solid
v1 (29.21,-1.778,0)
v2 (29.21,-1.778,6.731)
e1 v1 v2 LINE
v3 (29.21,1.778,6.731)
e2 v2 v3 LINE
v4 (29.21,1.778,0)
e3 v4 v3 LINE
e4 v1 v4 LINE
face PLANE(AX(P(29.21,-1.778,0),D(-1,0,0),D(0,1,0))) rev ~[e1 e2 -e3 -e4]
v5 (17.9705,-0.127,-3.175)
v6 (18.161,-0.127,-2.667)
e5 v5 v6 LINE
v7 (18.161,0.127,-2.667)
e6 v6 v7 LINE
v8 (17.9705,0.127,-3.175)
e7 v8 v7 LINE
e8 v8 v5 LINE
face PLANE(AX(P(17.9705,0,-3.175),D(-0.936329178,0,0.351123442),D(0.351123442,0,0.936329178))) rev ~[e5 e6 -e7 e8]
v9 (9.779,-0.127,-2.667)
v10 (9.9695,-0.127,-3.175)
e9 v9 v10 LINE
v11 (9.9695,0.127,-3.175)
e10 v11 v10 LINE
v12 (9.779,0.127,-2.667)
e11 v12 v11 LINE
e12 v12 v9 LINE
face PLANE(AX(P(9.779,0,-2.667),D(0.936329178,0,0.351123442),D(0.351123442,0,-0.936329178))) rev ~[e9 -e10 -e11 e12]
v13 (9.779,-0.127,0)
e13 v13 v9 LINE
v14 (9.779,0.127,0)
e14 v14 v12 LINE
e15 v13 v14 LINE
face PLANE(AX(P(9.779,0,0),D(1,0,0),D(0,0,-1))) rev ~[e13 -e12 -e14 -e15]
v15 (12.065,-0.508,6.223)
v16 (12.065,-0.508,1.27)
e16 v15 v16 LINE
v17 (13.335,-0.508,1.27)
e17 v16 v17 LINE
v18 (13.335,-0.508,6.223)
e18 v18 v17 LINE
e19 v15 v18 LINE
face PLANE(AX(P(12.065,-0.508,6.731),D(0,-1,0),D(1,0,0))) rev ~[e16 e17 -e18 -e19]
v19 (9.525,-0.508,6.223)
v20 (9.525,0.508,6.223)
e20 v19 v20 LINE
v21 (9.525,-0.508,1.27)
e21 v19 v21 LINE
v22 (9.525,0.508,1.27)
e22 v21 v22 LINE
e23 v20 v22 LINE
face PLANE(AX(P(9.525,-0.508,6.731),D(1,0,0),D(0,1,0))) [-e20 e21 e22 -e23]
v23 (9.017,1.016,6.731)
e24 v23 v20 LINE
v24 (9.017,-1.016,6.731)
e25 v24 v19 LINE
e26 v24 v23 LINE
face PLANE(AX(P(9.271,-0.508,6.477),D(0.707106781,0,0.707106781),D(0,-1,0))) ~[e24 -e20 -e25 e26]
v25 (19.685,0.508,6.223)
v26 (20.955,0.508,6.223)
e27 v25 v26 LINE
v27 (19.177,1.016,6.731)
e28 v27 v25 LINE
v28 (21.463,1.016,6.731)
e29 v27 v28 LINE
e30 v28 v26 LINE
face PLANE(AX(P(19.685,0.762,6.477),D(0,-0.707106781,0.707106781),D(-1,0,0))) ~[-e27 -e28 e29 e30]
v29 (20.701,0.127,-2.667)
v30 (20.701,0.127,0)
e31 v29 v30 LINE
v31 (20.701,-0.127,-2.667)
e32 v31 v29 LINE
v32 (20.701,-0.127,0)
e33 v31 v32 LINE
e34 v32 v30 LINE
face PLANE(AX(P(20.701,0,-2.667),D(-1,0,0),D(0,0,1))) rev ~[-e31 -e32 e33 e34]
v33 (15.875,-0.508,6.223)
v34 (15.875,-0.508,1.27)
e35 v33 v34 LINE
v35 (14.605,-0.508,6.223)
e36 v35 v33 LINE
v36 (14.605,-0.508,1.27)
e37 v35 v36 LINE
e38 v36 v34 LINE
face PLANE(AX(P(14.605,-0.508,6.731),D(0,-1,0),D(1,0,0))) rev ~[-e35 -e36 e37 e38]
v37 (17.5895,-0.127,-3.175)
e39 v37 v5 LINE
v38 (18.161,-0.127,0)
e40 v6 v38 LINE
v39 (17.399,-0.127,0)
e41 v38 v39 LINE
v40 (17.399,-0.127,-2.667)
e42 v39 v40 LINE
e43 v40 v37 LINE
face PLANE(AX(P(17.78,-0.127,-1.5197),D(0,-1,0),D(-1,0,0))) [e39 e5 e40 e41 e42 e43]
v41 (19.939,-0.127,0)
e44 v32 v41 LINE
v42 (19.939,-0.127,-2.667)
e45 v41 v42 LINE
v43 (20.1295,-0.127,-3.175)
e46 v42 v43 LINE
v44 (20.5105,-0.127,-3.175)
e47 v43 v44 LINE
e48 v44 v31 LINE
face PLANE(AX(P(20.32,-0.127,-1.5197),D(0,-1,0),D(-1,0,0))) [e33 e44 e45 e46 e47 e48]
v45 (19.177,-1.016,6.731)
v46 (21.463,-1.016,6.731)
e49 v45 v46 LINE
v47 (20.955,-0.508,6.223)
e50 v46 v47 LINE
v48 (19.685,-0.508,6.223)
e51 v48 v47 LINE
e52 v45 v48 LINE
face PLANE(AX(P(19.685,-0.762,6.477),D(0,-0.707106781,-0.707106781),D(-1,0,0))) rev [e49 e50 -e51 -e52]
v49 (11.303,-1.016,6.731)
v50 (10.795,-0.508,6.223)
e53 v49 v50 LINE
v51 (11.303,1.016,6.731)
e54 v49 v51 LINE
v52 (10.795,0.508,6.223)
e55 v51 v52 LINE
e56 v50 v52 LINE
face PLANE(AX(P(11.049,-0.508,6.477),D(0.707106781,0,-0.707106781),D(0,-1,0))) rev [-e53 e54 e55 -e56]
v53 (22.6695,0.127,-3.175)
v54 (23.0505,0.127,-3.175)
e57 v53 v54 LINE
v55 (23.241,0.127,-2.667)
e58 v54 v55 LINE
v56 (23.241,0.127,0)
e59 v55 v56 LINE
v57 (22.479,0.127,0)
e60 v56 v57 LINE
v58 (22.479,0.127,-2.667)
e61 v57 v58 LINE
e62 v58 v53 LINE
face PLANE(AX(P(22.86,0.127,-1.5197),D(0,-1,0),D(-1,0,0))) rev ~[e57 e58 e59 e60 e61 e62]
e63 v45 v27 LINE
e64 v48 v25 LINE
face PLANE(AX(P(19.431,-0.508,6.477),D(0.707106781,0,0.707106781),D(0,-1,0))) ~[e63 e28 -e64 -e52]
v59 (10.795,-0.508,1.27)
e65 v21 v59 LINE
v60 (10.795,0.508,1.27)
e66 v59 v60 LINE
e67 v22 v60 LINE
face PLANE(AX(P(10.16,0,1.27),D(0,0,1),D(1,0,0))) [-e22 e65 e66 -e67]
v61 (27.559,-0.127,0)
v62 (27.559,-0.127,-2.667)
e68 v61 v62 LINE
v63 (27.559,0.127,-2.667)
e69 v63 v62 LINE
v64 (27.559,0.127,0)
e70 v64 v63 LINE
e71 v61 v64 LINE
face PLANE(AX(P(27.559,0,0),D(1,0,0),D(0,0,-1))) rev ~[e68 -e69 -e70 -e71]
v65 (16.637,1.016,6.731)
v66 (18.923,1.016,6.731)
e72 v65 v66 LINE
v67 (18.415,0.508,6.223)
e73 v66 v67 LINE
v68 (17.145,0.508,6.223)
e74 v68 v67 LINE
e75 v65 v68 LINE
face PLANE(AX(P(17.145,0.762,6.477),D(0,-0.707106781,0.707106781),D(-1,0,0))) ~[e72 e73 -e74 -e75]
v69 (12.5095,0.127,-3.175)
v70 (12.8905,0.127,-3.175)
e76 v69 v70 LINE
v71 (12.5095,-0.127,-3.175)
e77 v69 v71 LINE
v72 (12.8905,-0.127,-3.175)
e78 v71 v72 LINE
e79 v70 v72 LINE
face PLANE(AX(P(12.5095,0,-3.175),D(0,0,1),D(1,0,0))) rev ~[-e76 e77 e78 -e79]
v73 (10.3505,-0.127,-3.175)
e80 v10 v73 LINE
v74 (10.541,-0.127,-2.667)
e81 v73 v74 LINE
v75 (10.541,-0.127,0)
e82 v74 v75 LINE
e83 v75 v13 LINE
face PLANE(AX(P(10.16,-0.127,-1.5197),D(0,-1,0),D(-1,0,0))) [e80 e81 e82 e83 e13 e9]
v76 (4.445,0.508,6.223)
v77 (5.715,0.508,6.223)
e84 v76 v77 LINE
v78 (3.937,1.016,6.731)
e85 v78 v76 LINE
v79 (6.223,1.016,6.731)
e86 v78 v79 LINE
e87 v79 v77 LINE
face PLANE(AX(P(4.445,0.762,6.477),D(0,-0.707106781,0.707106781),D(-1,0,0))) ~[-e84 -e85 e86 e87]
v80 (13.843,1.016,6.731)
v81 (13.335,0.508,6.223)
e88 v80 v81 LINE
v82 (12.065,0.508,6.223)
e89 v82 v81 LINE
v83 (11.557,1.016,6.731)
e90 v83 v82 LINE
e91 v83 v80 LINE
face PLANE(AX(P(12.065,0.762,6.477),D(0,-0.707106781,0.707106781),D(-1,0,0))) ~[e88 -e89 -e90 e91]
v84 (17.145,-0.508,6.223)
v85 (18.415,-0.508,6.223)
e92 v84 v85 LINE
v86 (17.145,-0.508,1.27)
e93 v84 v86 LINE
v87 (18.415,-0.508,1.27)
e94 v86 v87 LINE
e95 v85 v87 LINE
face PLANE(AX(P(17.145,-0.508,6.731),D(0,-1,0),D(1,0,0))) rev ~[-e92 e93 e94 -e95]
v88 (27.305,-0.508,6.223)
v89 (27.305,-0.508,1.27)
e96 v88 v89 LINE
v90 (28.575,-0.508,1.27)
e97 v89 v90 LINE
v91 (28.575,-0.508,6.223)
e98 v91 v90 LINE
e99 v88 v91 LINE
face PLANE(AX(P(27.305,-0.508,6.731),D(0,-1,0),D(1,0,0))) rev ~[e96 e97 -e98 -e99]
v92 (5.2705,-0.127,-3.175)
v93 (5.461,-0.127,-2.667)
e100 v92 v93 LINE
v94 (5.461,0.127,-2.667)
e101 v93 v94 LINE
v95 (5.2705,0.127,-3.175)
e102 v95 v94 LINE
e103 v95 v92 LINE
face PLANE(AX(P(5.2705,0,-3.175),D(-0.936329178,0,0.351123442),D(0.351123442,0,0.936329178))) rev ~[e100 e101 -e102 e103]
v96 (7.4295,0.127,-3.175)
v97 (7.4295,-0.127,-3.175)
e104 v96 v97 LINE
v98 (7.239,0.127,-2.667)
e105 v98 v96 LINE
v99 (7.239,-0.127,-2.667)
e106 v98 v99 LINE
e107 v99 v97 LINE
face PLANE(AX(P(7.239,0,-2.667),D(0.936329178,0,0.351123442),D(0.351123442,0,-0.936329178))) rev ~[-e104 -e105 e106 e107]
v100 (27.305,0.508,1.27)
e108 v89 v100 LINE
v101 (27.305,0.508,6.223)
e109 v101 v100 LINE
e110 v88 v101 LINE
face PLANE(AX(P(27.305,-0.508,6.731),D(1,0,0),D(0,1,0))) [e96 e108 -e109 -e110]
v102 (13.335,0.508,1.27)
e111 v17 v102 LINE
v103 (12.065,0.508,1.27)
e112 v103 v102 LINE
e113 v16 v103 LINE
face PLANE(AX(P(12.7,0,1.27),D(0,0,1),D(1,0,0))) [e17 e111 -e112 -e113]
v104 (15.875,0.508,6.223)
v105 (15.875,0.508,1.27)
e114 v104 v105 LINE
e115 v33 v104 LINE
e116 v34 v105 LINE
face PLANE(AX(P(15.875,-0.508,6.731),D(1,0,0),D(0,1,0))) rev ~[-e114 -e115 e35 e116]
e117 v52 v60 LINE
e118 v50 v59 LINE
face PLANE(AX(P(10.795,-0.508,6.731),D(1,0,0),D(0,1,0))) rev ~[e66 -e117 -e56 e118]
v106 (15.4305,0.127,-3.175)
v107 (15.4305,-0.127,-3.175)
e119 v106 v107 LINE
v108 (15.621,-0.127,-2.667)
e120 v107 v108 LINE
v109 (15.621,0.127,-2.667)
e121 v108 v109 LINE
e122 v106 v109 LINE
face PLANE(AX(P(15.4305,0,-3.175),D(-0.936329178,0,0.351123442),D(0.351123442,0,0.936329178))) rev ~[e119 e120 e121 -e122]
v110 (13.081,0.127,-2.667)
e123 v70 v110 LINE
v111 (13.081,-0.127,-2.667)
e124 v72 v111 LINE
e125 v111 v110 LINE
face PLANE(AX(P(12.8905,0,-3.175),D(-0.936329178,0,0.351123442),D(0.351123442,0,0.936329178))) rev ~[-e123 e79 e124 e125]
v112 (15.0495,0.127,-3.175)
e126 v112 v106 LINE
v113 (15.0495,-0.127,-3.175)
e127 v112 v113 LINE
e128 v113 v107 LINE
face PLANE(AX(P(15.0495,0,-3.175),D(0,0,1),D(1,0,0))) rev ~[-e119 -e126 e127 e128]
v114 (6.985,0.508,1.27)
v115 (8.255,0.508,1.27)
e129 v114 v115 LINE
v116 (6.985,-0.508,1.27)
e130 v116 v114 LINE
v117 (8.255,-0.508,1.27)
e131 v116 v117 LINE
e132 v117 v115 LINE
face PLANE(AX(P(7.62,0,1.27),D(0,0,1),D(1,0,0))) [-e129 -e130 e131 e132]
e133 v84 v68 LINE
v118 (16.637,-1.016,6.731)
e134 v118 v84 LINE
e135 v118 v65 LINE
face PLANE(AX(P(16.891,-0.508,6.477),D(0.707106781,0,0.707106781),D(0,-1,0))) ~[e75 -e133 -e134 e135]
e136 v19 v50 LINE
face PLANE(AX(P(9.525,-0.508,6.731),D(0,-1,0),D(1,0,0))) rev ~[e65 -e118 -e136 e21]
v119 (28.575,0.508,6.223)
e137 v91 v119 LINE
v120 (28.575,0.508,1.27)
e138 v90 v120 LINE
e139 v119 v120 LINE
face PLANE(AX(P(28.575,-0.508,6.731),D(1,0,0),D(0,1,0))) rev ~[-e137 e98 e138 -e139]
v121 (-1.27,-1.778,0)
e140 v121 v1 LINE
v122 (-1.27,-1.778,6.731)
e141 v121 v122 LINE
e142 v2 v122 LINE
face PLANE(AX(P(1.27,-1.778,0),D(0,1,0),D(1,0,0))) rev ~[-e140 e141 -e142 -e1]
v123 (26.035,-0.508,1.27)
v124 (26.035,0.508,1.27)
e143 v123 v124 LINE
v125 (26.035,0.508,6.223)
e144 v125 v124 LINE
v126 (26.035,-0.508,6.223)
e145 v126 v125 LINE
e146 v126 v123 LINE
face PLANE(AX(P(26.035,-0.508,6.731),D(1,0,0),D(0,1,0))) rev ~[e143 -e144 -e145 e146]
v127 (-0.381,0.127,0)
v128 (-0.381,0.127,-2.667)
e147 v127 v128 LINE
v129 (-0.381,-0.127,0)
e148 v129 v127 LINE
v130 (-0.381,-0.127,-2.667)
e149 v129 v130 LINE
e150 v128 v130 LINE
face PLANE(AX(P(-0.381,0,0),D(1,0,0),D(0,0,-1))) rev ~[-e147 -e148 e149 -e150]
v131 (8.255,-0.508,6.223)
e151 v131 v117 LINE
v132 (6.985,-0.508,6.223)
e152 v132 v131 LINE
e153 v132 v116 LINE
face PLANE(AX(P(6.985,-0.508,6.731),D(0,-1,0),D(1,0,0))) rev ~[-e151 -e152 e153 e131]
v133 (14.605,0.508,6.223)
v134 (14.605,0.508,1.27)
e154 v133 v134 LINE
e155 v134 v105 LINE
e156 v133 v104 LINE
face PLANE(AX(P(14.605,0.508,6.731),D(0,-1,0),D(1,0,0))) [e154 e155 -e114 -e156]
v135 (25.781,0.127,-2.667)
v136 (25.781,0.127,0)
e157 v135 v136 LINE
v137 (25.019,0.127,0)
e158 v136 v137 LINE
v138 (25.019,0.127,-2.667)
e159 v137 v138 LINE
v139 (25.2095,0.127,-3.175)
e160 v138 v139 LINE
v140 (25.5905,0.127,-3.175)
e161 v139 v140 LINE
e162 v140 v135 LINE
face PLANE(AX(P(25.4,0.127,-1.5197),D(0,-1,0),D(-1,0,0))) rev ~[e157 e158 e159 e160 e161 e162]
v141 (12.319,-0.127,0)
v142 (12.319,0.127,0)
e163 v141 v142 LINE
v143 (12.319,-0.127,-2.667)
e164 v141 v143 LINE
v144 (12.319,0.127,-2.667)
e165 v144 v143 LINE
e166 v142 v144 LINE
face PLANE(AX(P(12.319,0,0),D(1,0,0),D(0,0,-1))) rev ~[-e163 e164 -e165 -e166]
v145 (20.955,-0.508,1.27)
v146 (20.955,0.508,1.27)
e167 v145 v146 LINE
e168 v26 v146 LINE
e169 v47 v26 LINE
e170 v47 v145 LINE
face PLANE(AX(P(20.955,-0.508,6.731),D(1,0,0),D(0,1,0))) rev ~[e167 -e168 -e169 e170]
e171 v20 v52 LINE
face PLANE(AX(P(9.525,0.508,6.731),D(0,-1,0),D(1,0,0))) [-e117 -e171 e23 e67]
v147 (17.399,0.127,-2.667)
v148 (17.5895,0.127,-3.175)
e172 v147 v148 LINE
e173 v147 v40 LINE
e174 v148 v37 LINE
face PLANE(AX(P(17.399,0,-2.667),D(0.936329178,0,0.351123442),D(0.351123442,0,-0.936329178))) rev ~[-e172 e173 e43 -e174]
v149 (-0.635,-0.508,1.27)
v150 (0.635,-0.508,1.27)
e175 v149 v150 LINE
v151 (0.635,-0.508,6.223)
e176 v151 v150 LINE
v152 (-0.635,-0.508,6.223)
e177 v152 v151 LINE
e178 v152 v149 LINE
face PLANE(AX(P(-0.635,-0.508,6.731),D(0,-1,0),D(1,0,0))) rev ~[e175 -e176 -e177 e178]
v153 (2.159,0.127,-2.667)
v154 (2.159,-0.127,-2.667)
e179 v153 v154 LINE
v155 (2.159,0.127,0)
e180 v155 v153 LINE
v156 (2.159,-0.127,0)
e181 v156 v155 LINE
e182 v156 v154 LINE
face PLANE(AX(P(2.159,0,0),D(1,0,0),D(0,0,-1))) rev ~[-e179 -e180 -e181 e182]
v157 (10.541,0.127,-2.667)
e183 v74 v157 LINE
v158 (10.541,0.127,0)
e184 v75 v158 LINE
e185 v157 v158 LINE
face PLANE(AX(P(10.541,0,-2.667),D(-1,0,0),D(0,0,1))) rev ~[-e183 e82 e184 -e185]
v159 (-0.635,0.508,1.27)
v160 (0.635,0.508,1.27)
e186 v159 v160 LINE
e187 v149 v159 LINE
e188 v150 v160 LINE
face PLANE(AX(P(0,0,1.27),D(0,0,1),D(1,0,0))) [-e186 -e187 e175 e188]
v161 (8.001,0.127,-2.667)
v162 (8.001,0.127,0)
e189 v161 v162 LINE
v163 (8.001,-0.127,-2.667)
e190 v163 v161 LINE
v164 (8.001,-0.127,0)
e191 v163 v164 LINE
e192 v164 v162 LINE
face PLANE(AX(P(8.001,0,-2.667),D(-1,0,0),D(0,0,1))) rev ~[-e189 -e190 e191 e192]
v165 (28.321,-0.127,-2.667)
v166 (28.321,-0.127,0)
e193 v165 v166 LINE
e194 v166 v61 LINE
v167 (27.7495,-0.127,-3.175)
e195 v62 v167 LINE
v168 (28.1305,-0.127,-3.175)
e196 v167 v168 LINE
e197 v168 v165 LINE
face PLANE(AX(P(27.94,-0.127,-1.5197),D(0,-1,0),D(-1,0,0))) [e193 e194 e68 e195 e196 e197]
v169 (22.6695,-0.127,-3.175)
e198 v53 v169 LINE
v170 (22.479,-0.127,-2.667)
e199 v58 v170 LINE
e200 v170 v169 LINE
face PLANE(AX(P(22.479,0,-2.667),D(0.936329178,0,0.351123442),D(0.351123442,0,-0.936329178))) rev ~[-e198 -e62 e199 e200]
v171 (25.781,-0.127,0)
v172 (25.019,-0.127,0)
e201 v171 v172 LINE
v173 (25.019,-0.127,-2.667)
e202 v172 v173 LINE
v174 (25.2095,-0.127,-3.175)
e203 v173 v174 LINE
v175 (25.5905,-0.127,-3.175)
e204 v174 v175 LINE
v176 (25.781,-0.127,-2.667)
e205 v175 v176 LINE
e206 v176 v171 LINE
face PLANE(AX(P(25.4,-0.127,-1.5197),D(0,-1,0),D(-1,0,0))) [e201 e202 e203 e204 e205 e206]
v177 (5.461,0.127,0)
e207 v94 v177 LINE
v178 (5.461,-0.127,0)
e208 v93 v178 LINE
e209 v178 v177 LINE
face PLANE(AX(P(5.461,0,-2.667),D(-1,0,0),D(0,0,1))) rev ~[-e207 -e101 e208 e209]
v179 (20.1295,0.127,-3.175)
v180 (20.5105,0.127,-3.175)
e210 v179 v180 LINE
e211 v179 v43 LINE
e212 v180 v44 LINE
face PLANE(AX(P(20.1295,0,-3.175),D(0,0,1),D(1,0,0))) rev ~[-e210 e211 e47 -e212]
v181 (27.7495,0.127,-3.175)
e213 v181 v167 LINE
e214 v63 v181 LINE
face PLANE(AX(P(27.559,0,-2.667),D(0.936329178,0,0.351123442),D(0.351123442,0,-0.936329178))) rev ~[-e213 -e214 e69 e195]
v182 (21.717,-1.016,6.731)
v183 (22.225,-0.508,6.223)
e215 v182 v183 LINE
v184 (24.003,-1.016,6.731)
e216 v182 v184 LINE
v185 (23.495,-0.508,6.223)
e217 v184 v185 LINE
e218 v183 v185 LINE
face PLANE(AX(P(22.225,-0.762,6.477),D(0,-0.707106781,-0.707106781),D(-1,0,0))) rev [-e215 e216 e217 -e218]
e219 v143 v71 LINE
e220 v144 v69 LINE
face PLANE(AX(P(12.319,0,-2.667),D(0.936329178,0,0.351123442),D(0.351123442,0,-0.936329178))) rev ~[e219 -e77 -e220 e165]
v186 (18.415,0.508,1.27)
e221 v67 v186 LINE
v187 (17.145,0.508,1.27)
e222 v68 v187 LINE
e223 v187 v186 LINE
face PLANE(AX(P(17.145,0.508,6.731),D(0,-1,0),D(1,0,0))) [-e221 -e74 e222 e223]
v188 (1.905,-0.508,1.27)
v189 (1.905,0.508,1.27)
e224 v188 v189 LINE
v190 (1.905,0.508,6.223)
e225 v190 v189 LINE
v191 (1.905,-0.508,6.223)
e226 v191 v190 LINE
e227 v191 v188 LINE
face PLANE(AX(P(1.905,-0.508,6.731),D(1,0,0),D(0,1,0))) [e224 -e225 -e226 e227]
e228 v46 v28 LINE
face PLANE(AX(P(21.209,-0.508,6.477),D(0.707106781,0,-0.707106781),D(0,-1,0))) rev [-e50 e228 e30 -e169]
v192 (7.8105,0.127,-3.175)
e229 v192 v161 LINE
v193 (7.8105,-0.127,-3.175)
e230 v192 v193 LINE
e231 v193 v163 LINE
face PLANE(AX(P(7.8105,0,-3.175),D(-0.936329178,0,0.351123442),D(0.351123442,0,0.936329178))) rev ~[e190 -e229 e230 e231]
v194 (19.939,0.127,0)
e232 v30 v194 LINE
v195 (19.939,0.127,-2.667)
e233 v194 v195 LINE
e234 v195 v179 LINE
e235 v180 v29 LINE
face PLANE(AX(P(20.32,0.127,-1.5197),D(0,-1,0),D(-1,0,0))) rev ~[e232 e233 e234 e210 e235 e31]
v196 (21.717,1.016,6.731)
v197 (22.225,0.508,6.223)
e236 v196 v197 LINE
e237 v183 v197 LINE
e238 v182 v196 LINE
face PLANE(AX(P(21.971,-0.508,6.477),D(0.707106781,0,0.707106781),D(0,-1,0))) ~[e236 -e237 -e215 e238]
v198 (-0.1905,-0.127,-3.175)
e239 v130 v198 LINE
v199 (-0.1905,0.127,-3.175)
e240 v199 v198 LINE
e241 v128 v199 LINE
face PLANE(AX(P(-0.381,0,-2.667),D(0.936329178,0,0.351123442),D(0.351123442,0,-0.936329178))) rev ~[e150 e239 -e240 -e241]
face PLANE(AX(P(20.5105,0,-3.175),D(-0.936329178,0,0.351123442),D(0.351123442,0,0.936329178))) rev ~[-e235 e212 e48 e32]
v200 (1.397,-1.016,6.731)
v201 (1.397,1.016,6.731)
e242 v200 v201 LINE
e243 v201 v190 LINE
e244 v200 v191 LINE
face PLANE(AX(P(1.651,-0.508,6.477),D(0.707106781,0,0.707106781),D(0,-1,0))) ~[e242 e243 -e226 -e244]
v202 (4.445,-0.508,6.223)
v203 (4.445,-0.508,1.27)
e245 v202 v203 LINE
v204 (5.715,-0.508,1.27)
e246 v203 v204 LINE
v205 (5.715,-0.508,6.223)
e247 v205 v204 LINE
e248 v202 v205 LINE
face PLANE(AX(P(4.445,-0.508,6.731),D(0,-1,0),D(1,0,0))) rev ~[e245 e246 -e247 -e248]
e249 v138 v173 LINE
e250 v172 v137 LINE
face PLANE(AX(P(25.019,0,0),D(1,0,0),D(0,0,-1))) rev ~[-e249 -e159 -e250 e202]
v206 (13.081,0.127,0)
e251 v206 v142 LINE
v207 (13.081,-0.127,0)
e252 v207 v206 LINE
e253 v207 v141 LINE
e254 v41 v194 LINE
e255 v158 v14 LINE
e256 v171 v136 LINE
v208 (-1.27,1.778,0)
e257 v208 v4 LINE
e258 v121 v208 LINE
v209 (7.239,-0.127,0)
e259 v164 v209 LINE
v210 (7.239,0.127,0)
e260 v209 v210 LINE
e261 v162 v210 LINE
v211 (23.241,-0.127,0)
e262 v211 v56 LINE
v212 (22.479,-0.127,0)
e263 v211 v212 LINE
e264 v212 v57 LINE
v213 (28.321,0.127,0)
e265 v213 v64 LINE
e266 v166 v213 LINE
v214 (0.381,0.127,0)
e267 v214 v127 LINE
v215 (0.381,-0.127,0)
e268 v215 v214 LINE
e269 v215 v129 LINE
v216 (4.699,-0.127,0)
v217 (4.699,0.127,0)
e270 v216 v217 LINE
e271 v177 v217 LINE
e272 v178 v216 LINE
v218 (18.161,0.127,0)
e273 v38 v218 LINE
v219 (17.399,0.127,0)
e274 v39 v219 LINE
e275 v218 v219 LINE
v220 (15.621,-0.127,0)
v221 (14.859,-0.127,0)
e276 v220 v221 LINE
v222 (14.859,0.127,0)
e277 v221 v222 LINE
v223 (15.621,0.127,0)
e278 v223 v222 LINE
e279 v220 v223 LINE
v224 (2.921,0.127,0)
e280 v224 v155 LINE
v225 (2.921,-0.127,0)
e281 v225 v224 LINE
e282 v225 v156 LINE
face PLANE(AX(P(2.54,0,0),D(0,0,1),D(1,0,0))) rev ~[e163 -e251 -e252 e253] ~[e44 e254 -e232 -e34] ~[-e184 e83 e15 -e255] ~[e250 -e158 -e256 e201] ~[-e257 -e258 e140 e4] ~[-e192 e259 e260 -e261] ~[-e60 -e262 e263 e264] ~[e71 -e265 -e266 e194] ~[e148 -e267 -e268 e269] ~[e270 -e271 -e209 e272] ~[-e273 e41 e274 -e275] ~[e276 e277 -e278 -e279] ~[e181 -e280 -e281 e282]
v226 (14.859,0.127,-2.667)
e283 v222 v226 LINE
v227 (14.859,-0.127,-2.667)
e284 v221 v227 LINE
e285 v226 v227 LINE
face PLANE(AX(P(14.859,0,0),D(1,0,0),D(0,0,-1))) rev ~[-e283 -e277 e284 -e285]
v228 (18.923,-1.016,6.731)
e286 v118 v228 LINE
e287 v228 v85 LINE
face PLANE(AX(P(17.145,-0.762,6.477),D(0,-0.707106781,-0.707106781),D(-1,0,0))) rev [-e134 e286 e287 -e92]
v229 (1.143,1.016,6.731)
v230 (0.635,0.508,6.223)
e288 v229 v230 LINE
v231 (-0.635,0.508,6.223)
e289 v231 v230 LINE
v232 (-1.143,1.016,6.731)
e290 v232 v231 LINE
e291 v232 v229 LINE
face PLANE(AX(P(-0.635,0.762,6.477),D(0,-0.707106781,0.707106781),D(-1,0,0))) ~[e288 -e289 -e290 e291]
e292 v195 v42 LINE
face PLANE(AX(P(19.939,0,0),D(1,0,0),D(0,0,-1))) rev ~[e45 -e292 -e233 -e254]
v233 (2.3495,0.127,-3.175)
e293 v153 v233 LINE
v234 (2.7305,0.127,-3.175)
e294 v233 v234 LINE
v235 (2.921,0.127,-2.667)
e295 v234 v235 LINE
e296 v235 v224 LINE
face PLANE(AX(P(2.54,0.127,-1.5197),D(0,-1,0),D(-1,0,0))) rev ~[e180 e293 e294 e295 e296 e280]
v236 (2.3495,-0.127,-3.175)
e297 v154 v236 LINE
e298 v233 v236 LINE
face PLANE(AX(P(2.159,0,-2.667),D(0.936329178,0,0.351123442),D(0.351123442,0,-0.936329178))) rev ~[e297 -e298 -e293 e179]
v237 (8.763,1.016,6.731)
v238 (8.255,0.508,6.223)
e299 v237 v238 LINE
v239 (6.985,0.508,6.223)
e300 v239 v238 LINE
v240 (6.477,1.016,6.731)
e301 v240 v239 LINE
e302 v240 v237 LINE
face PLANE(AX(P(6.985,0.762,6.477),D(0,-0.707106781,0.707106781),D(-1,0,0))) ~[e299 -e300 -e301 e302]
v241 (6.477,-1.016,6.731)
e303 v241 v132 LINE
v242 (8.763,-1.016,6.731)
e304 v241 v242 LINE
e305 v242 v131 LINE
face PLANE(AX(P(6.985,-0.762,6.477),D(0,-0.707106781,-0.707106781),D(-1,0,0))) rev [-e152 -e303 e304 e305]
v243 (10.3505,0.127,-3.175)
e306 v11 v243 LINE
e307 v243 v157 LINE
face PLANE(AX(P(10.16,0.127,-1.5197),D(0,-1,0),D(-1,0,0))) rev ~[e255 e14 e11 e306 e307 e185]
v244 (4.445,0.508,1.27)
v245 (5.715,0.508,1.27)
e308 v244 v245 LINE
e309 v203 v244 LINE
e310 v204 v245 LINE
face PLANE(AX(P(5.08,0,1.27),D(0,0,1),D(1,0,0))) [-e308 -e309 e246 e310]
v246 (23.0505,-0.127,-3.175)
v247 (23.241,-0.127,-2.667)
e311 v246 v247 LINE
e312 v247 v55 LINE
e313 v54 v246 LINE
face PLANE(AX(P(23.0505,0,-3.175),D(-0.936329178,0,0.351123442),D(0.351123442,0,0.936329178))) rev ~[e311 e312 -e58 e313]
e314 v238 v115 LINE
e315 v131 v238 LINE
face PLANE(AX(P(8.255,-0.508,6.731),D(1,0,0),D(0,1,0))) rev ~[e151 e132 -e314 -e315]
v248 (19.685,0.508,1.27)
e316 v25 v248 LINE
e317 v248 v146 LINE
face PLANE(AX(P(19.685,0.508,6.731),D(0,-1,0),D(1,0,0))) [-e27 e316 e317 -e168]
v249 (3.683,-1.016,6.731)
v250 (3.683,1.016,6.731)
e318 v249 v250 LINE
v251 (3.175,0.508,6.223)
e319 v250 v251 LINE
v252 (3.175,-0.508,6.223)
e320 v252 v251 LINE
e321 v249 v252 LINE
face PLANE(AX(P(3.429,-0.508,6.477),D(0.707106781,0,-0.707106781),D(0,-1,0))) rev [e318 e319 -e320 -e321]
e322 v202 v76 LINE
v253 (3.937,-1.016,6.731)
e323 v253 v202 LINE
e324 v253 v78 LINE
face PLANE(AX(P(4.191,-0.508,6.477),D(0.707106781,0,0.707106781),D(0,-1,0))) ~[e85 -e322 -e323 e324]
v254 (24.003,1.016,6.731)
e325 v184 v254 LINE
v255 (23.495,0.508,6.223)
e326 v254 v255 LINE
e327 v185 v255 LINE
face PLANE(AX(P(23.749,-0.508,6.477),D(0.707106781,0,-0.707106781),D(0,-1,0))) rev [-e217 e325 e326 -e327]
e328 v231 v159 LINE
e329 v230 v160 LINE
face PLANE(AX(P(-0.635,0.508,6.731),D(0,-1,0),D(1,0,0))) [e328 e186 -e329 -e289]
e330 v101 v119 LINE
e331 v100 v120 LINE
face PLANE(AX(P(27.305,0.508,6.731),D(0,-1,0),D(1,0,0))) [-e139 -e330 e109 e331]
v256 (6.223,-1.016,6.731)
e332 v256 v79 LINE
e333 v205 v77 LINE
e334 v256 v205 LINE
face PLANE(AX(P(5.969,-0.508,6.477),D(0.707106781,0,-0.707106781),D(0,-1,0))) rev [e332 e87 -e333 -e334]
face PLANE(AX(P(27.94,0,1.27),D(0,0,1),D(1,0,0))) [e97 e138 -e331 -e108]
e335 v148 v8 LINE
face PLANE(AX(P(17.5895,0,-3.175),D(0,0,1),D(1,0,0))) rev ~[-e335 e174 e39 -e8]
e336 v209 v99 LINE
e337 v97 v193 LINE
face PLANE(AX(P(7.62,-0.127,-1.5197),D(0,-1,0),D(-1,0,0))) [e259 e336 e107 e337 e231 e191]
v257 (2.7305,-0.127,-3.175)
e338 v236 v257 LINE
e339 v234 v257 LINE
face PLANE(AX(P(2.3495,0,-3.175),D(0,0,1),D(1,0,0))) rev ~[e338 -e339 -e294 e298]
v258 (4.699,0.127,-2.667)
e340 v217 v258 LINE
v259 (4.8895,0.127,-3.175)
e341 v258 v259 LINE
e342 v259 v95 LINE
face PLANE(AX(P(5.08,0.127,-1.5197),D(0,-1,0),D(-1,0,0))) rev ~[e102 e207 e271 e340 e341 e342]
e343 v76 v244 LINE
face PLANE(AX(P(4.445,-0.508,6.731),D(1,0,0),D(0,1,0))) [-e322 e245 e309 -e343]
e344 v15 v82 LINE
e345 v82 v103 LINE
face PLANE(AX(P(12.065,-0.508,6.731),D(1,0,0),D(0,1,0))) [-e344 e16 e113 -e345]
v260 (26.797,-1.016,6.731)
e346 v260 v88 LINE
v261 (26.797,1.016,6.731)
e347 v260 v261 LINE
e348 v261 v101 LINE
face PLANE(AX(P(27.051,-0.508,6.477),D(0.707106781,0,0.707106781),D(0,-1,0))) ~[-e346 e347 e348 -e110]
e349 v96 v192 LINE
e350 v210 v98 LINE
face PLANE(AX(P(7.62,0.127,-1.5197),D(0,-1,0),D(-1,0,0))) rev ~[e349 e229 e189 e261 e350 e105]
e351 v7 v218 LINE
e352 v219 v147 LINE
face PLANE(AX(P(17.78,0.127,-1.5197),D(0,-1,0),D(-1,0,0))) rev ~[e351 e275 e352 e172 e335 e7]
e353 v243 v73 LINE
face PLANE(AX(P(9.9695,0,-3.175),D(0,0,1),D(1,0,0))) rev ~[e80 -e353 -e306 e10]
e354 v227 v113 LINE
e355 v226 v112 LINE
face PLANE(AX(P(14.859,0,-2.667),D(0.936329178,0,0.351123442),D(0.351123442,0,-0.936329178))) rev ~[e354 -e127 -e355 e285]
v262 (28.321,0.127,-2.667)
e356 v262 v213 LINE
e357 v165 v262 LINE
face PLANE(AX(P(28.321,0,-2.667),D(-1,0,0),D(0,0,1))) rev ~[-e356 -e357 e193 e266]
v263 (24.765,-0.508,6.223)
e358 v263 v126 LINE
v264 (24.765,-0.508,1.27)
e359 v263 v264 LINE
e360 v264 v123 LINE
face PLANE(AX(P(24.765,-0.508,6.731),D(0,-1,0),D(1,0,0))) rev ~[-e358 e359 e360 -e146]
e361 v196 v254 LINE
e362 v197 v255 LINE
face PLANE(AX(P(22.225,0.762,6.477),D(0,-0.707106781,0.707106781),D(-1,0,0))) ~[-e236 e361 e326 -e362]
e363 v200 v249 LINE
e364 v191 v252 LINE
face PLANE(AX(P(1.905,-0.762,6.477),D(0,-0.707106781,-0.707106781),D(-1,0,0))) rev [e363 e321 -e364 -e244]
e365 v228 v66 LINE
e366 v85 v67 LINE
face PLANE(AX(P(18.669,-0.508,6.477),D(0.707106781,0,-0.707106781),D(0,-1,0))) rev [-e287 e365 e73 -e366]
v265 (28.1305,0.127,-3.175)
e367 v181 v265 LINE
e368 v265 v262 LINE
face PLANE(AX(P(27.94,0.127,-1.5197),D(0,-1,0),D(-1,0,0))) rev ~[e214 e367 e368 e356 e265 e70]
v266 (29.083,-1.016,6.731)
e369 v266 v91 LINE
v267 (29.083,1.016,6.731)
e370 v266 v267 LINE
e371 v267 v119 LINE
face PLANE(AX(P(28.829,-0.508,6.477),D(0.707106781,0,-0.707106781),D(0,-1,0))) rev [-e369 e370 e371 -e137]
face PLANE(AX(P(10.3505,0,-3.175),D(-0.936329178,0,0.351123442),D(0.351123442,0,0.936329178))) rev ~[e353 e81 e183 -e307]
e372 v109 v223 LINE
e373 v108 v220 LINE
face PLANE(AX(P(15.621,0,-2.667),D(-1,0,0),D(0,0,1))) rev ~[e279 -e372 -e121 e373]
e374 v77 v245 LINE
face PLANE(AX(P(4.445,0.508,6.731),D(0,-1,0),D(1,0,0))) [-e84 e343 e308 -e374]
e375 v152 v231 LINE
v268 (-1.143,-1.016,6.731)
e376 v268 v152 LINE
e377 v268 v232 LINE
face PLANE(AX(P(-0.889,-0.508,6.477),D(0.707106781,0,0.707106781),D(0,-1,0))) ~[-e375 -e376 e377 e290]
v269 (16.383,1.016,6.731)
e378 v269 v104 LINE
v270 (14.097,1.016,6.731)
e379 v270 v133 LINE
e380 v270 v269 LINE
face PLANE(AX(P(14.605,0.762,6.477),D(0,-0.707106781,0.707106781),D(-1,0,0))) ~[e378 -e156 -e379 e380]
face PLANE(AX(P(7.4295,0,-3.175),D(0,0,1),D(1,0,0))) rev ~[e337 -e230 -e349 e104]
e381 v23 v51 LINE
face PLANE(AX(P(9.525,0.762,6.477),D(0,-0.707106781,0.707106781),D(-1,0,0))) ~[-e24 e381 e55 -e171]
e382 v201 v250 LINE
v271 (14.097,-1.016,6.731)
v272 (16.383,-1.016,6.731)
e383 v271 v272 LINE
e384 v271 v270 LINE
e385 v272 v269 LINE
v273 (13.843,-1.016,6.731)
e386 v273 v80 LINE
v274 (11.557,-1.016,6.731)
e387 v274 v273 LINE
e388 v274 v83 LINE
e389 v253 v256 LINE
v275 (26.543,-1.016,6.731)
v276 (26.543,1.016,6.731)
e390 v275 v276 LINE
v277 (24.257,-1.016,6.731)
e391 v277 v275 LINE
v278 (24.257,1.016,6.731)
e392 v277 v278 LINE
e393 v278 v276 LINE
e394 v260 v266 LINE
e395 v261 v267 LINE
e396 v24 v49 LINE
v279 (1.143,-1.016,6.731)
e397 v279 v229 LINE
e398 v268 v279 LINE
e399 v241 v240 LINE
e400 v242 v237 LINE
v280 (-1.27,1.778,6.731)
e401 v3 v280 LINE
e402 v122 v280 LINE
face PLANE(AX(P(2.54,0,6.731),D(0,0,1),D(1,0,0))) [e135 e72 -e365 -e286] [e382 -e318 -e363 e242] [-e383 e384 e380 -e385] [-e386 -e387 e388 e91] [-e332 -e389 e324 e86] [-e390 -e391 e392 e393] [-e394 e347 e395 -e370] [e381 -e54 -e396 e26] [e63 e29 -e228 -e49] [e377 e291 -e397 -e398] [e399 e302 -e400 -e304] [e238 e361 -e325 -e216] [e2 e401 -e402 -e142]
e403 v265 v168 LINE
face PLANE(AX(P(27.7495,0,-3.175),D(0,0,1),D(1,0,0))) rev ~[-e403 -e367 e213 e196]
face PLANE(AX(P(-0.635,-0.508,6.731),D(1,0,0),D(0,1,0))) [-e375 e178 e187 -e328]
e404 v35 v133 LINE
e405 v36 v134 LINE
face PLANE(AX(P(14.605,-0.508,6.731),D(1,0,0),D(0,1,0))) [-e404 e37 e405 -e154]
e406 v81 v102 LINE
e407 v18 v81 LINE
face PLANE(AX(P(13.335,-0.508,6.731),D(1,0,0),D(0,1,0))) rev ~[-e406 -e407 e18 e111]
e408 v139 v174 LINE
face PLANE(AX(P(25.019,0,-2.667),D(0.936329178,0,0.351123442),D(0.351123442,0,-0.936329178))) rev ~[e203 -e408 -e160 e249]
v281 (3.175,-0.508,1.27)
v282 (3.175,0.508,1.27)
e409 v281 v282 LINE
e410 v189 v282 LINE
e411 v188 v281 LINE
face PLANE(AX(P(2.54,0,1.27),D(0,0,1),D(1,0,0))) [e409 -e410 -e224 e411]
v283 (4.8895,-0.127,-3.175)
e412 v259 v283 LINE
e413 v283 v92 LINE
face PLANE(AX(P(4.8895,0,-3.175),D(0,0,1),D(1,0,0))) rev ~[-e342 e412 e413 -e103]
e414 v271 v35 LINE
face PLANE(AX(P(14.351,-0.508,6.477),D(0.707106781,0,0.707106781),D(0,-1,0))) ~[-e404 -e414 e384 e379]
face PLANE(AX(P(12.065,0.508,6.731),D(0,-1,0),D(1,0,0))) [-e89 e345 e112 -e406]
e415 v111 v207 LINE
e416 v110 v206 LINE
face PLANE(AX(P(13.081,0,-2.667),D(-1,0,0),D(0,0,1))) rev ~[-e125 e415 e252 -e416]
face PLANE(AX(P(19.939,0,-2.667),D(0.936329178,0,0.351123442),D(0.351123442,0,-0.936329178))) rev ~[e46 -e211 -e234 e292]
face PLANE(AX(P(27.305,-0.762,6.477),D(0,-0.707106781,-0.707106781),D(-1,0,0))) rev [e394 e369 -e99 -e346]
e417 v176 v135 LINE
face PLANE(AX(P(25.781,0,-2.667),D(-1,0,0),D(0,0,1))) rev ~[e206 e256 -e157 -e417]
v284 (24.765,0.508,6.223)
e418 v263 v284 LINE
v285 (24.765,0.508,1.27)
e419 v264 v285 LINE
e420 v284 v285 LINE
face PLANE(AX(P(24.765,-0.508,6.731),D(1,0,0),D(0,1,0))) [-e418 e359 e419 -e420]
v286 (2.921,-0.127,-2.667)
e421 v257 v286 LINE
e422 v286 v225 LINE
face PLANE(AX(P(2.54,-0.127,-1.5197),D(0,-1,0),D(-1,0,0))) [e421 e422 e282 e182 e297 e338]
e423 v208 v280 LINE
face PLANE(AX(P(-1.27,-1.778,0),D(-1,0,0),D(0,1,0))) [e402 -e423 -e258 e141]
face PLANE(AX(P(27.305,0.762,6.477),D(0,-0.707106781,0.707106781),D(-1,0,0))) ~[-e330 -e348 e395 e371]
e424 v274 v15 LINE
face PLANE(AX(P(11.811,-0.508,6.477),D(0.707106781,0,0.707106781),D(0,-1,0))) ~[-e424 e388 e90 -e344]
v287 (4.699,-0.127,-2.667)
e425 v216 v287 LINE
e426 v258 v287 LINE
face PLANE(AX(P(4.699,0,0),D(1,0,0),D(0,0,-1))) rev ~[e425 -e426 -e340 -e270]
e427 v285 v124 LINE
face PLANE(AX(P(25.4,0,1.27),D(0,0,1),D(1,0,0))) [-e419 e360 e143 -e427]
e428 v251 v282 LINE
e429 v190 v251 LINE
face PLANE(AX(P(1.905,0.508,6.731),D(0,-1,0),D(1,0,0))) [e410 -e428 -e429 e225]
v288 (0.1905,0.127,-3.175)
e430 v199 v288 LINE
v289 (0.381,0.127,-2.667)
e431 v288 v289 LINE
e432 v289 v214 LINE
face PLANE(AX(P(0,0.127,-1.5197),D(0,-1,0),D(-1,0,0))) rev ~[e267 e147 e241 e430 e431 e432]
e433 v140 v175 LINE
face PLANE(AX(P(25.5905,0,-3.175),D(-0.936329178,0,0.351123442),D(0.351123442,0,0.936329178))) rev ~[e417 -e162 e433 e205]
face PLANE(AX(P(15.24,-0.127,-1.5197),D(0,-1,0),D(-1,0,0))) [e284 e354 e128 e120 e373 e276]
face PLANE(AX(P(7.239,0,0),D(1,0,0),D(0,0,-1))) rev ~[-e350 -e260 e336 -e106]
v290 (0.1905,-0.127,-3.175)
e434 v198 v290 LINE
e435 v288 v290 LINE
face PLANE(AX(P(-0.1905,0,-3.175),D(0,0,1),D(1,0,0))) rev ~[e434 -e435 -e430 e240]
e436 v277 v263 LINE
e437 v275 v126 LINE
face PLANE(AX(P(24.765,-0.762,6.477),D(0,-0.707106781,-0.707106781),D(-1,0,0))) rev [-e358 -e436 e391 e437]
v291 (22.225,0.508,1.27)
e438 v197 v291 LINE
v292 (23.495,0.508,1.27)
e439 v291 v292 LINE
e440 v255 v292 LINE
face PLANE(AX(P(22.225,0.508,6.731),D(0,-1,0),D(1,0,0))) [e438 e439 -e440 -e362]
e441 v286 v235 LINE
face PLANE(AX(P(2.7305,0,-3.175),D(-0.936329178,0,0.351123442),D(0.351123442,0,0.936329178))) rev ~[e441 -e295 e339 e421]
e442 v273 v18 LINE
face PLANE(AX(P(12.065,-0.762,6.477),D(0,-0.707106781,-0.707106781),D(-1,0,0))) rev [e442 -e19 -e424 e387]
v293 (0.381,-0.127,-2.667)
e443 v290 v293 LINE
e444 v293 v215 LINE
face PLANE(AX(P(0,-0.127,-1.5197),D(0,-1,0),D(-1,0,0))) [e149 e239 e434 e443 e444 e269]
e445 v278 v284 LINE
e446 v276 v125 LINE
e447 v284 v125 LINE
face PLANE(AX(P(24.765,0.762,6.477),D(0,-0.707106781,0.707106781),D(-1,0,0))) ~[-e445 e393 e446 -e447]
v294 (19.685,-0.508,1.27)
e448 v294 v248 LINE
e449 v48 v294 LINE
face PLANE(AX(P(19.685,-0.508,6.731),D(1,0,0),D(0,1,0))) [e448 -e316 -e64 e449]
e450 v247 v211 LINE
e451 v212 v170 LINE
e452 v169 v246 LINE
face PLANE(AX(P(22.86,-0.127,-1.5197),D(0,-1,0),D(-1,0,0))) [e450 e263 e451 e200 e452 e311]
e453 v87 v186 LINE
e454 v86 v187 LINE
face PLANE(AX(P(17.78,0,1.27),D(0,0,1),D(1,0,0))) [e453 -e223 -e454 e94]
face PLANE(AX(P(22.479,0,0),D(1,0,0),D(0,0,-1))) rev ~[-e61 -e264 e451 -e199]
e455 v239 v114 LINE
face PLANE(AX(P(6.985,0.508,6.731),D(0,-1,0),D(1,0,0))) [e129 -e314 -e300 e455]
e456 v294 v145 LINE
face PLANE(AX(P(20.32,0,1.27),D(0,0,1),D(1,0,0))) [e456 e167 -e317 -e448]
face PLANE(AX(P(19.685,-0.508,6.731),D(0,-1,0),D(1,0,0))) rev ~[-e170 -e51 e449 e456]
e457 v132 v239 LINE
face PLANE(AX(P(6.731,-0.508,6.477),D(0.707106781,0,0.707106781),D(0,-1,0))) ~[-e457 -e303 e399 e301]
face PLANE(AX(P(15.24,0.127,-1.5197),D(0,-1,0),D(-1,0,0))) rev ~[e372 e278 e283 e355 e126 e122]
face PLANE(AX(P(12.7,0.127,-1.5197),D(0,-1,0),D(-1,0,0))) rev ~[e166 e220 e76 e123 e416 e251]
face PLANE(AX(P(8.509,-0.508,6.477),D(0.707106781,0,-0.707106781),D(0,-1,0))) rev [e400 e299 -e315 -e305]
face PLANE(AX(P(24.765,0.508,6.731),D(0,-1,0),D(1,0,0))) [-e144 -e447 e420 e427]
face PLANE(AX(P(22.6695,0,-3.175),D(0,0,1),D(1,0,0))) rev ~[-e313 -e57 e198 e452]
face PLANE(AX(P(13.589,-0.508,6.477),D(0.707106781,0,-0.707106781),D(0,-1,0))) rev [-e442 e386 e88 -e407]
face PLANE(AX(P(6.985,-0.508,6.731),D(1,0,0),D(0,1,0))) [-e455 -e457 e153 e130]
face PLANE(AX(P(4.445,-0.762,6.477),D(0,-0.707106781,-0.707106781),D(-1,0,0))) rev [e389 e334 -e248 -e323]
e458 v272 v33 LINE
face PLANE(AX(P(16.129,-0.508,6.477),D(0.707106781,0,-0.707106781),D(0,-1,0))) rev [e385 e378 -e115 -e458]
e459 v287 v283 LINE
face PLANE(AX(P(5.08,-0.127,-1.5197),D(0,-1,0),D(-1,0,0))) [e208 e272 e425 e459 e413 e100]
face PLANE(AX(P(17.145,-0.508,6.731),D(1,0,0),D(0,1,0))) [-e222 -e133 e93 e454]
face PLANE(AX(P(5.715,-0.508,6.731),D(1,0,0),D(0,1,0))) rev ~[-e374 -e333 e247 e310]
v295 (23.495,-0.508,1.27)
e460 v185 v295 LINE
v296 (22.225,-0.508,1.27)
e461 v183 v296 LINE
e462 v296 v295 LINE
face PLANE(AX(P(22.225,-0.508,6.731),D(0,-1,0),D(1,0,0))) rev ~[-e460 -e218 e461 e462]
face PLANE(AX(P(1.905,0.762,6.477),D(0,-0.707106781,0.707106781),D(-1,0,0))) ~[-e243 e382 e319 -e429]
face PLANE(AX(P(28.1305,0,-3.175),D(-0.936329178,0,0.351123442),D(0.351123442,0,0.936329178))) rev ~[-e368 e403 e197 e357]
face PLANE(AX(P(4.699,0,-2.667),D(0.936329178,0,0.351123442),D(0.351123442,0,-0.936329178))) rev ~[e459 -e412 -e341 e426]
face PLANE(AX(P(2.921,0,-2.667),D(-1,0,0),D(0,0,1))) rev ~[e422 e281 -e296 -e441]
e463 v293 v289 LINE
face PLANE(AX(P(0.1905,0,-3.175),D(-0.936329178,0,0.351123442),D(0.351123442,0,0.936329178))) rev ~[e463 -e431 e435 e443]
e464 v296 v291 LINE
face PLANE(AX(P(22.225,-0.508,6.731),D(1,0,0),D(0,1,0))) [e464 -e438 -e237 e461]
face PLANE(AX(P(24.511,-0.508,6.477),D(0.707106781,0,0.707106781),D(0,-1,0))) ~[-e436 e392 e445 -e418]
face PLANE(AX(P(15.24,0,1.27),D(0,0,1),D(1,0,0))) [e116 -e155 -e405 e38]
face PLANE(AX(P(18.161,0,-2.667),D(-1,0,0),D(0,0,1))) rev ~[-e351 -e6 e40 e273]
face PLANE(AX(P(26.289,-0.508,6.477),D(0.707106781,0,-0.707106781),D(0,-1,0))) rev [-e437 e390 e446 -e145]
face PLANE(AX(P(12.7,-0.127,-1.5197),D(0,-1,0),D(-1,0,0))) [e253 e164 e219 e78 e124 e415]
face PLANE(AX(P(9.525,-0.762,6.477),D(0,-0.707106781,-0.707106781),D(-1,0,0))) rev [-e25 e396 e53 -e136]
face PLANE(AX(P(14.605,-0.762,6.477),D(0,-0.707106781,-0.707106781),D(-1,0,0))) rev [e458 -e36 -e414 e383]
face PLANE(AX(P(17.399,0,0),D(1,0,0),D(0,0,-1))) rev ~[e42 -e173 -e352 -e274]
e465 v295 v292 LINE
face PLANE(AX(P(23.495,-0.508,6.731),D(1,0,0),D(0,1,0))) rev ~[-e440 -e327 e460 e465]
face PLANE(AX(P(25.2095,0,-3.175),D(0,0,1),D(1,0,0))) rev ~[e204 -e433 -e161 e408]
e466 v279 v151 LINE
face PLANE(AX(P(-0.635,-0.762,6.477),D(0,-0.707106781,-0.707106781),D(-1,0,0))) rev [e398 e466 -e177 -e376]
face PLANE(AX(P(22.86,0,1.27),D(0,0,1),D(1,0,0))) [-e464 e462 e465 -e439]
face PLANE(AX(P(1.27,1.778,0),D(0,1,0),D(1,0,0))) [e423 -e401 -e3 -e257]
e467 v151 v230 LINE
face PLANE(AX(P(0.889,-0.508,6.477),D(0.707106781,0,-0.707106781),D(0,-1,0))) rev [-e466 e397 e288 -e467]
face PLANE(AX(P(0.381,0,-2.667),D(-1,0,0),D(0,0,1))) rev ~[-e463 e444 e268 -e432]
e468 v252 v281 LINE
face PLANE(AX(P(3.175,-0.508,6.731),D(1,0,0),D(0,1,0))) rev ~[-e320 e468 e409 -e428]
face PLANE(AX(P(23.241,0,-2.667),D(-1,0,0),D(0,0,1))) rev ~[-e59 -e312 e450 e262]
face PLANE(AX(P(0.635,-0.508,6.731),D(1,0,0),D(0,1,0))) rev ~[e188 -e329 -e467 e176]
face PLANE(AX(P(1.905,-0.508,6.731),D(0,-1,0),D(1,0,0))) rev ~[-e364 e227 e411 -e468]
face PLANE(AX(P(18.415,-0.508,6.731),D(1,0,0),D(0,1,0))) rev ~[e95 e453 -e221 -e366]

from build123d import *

# Parameters (mm, degrees)
SKETCH1_W                  = 2.54
SKETCH1_H                  = 3.556
BOSS_EXTRUDE1_DEPTH        = 6.731
SKETCH2_W                  = 1.27
SKETCH2_H                  = 1.016
CUT_EXTRUDE1_DEPTH         = 5.461
CHAMFER1_SIZE              = 0.508
BOSS_EXTRUDE2_START        = -1.778
BOSS_EXTRUDE2_DEPTH        = 0.127
LPATTERN1_COUNT            = 12
LPATTERN1_PITCH            = 2.54
CHAMFER1_OF_LPATTERN1_SIZE = 0.508


with BuildPart() as part:
    # Sketch1 → Boss-Extrude1 (new body)
    with BuildSketch(Plane.XY):
        Rectangle(SKETCH1_W, SKETCH1_H)
    boss_extrude1 = extrude(amount=BOSS_EXTRUDE1_DEPTH)

    # Sketch2 → Cut-Extrude1 (cut)
    with BuildSketch(Plane.XY.offset(6.731)):
        Rectangle(SKETCH2_W, SKETCH2_H)
    cut_extrude1 = extrude(amount=-CUT_EXTRUDE1_DEPTH, mode=Mode.SUBTRACT)

    # Chamfer1
    chamfer1_edges = [part.edges().sort_by_distance(p)[0] for p in [
        (-0.635, 0, 6.731),
        (0, -0.508, 6.731),
        (0.635, 0, 6.731),
        (0, 0.508, 6.731),
    ]]
    chamfer(chamfer1_edges, length=CHAMFER1_SIZE)

    # Sketch3 → Boss-Extrude2 (add, symmetric)
    with BuildSketch(Plane(origin=(0, 1.778, 0), x_dir=(1, 0, 0), z_dir=(0, 1, 0)).offset(BOSS_EXTRUDE2_START)):
        Polygon((-0.381, 0), (-0.381, 2.667), (-0.1905, 3.175), (0.1905, 3.175), (0.381, 2.667), (0.381, 0), align=None)
    boss_extrude2 = extrude(amount=BOSS_EXTRUDE2_DEPTH, both=True)

    # LPattern1: Boss-Extrude1, Cut-Extrude1, Boss-Extrude2 ×12
    with Locations(*[(i * LPATTERN1_PITCH, 0, 0) for i in range(1, LPATTERN1_COUNT)]):
        add(boss_extrude1)
        add(cut_extrude1, mode=Mode.SUBTRACT)
        add(boss_extrude2)

    # Chamfer1 of LPattern1
    chamfer1_of_lpattern1_edges = [part.edges().sort_by_distance(p)[0] for p in [
        (1.905, 0, 6.731),
        (2.54, -0.508, 6.731),
        (3.175, 0, 6.731),
        (2.54, 0.508, 6.731),
        (4.445, 0, 6.731),
        (5.08, -0.508, 6.731),
        (5.715, 0, 6.731),
        (5.08, 0.508, 6.731),
        (6.985, 0, 6.731),
        (7.62, -0.508, 6.731),
        (8.255, 0, 6.731),
        (7.62, 0.508, 6.731),
        (9.525, 0, 6.731),
        (10.16, -0.508, 6.731),
        (10.795, 0, 6.731),
        (10.16, 0.508, 6.731),
        (12.065, 0, 6.731),
        (12.7, -0.508, 6.731),
        (13.335, 0, 6.731),
        (12.7, 0.508, 6.731),
        (14.605, 0, 6.731),
        (15.24, -0.508, 6.731),
        (15.875, 0, 6.731),
        (15.24, 0.508, 6.731),
        (17.145, 0, 6.731),
        (17.78, -0.508, 6.731),
        (18.415, 0, 6.731),
        (17.78, 0.508, 6.731),
        (19.685, 0, 6.731),
        (20.32, -0.508, 6.731),
        (20.955, 0, 6.731),
        (20.32, 0.508, 6.731),
        (22.225, 0, 6.731),
        (22.86, -0.508, 6.731),
        (23.495, 0, 6.731),
        (22.86, 0.508, 6.731),
        (24.765, 0, 6.731),
        (25.4, -0.508, 6.731),
        (26.035, 0, 6.731),
        (25.4, 0.508, 6.731),
        (27.305, 0, 6.731),
        (27.94, -0.508, 6.731),
        (28.575, 0, 6.731),
        (27.94, 0.508, 6.731),
    ]]
    chamfer(chamfer1_of_lpattern1_edges, length=CHAMFER1_OF_LPATTERN1_SIZE)


solid = part.part
